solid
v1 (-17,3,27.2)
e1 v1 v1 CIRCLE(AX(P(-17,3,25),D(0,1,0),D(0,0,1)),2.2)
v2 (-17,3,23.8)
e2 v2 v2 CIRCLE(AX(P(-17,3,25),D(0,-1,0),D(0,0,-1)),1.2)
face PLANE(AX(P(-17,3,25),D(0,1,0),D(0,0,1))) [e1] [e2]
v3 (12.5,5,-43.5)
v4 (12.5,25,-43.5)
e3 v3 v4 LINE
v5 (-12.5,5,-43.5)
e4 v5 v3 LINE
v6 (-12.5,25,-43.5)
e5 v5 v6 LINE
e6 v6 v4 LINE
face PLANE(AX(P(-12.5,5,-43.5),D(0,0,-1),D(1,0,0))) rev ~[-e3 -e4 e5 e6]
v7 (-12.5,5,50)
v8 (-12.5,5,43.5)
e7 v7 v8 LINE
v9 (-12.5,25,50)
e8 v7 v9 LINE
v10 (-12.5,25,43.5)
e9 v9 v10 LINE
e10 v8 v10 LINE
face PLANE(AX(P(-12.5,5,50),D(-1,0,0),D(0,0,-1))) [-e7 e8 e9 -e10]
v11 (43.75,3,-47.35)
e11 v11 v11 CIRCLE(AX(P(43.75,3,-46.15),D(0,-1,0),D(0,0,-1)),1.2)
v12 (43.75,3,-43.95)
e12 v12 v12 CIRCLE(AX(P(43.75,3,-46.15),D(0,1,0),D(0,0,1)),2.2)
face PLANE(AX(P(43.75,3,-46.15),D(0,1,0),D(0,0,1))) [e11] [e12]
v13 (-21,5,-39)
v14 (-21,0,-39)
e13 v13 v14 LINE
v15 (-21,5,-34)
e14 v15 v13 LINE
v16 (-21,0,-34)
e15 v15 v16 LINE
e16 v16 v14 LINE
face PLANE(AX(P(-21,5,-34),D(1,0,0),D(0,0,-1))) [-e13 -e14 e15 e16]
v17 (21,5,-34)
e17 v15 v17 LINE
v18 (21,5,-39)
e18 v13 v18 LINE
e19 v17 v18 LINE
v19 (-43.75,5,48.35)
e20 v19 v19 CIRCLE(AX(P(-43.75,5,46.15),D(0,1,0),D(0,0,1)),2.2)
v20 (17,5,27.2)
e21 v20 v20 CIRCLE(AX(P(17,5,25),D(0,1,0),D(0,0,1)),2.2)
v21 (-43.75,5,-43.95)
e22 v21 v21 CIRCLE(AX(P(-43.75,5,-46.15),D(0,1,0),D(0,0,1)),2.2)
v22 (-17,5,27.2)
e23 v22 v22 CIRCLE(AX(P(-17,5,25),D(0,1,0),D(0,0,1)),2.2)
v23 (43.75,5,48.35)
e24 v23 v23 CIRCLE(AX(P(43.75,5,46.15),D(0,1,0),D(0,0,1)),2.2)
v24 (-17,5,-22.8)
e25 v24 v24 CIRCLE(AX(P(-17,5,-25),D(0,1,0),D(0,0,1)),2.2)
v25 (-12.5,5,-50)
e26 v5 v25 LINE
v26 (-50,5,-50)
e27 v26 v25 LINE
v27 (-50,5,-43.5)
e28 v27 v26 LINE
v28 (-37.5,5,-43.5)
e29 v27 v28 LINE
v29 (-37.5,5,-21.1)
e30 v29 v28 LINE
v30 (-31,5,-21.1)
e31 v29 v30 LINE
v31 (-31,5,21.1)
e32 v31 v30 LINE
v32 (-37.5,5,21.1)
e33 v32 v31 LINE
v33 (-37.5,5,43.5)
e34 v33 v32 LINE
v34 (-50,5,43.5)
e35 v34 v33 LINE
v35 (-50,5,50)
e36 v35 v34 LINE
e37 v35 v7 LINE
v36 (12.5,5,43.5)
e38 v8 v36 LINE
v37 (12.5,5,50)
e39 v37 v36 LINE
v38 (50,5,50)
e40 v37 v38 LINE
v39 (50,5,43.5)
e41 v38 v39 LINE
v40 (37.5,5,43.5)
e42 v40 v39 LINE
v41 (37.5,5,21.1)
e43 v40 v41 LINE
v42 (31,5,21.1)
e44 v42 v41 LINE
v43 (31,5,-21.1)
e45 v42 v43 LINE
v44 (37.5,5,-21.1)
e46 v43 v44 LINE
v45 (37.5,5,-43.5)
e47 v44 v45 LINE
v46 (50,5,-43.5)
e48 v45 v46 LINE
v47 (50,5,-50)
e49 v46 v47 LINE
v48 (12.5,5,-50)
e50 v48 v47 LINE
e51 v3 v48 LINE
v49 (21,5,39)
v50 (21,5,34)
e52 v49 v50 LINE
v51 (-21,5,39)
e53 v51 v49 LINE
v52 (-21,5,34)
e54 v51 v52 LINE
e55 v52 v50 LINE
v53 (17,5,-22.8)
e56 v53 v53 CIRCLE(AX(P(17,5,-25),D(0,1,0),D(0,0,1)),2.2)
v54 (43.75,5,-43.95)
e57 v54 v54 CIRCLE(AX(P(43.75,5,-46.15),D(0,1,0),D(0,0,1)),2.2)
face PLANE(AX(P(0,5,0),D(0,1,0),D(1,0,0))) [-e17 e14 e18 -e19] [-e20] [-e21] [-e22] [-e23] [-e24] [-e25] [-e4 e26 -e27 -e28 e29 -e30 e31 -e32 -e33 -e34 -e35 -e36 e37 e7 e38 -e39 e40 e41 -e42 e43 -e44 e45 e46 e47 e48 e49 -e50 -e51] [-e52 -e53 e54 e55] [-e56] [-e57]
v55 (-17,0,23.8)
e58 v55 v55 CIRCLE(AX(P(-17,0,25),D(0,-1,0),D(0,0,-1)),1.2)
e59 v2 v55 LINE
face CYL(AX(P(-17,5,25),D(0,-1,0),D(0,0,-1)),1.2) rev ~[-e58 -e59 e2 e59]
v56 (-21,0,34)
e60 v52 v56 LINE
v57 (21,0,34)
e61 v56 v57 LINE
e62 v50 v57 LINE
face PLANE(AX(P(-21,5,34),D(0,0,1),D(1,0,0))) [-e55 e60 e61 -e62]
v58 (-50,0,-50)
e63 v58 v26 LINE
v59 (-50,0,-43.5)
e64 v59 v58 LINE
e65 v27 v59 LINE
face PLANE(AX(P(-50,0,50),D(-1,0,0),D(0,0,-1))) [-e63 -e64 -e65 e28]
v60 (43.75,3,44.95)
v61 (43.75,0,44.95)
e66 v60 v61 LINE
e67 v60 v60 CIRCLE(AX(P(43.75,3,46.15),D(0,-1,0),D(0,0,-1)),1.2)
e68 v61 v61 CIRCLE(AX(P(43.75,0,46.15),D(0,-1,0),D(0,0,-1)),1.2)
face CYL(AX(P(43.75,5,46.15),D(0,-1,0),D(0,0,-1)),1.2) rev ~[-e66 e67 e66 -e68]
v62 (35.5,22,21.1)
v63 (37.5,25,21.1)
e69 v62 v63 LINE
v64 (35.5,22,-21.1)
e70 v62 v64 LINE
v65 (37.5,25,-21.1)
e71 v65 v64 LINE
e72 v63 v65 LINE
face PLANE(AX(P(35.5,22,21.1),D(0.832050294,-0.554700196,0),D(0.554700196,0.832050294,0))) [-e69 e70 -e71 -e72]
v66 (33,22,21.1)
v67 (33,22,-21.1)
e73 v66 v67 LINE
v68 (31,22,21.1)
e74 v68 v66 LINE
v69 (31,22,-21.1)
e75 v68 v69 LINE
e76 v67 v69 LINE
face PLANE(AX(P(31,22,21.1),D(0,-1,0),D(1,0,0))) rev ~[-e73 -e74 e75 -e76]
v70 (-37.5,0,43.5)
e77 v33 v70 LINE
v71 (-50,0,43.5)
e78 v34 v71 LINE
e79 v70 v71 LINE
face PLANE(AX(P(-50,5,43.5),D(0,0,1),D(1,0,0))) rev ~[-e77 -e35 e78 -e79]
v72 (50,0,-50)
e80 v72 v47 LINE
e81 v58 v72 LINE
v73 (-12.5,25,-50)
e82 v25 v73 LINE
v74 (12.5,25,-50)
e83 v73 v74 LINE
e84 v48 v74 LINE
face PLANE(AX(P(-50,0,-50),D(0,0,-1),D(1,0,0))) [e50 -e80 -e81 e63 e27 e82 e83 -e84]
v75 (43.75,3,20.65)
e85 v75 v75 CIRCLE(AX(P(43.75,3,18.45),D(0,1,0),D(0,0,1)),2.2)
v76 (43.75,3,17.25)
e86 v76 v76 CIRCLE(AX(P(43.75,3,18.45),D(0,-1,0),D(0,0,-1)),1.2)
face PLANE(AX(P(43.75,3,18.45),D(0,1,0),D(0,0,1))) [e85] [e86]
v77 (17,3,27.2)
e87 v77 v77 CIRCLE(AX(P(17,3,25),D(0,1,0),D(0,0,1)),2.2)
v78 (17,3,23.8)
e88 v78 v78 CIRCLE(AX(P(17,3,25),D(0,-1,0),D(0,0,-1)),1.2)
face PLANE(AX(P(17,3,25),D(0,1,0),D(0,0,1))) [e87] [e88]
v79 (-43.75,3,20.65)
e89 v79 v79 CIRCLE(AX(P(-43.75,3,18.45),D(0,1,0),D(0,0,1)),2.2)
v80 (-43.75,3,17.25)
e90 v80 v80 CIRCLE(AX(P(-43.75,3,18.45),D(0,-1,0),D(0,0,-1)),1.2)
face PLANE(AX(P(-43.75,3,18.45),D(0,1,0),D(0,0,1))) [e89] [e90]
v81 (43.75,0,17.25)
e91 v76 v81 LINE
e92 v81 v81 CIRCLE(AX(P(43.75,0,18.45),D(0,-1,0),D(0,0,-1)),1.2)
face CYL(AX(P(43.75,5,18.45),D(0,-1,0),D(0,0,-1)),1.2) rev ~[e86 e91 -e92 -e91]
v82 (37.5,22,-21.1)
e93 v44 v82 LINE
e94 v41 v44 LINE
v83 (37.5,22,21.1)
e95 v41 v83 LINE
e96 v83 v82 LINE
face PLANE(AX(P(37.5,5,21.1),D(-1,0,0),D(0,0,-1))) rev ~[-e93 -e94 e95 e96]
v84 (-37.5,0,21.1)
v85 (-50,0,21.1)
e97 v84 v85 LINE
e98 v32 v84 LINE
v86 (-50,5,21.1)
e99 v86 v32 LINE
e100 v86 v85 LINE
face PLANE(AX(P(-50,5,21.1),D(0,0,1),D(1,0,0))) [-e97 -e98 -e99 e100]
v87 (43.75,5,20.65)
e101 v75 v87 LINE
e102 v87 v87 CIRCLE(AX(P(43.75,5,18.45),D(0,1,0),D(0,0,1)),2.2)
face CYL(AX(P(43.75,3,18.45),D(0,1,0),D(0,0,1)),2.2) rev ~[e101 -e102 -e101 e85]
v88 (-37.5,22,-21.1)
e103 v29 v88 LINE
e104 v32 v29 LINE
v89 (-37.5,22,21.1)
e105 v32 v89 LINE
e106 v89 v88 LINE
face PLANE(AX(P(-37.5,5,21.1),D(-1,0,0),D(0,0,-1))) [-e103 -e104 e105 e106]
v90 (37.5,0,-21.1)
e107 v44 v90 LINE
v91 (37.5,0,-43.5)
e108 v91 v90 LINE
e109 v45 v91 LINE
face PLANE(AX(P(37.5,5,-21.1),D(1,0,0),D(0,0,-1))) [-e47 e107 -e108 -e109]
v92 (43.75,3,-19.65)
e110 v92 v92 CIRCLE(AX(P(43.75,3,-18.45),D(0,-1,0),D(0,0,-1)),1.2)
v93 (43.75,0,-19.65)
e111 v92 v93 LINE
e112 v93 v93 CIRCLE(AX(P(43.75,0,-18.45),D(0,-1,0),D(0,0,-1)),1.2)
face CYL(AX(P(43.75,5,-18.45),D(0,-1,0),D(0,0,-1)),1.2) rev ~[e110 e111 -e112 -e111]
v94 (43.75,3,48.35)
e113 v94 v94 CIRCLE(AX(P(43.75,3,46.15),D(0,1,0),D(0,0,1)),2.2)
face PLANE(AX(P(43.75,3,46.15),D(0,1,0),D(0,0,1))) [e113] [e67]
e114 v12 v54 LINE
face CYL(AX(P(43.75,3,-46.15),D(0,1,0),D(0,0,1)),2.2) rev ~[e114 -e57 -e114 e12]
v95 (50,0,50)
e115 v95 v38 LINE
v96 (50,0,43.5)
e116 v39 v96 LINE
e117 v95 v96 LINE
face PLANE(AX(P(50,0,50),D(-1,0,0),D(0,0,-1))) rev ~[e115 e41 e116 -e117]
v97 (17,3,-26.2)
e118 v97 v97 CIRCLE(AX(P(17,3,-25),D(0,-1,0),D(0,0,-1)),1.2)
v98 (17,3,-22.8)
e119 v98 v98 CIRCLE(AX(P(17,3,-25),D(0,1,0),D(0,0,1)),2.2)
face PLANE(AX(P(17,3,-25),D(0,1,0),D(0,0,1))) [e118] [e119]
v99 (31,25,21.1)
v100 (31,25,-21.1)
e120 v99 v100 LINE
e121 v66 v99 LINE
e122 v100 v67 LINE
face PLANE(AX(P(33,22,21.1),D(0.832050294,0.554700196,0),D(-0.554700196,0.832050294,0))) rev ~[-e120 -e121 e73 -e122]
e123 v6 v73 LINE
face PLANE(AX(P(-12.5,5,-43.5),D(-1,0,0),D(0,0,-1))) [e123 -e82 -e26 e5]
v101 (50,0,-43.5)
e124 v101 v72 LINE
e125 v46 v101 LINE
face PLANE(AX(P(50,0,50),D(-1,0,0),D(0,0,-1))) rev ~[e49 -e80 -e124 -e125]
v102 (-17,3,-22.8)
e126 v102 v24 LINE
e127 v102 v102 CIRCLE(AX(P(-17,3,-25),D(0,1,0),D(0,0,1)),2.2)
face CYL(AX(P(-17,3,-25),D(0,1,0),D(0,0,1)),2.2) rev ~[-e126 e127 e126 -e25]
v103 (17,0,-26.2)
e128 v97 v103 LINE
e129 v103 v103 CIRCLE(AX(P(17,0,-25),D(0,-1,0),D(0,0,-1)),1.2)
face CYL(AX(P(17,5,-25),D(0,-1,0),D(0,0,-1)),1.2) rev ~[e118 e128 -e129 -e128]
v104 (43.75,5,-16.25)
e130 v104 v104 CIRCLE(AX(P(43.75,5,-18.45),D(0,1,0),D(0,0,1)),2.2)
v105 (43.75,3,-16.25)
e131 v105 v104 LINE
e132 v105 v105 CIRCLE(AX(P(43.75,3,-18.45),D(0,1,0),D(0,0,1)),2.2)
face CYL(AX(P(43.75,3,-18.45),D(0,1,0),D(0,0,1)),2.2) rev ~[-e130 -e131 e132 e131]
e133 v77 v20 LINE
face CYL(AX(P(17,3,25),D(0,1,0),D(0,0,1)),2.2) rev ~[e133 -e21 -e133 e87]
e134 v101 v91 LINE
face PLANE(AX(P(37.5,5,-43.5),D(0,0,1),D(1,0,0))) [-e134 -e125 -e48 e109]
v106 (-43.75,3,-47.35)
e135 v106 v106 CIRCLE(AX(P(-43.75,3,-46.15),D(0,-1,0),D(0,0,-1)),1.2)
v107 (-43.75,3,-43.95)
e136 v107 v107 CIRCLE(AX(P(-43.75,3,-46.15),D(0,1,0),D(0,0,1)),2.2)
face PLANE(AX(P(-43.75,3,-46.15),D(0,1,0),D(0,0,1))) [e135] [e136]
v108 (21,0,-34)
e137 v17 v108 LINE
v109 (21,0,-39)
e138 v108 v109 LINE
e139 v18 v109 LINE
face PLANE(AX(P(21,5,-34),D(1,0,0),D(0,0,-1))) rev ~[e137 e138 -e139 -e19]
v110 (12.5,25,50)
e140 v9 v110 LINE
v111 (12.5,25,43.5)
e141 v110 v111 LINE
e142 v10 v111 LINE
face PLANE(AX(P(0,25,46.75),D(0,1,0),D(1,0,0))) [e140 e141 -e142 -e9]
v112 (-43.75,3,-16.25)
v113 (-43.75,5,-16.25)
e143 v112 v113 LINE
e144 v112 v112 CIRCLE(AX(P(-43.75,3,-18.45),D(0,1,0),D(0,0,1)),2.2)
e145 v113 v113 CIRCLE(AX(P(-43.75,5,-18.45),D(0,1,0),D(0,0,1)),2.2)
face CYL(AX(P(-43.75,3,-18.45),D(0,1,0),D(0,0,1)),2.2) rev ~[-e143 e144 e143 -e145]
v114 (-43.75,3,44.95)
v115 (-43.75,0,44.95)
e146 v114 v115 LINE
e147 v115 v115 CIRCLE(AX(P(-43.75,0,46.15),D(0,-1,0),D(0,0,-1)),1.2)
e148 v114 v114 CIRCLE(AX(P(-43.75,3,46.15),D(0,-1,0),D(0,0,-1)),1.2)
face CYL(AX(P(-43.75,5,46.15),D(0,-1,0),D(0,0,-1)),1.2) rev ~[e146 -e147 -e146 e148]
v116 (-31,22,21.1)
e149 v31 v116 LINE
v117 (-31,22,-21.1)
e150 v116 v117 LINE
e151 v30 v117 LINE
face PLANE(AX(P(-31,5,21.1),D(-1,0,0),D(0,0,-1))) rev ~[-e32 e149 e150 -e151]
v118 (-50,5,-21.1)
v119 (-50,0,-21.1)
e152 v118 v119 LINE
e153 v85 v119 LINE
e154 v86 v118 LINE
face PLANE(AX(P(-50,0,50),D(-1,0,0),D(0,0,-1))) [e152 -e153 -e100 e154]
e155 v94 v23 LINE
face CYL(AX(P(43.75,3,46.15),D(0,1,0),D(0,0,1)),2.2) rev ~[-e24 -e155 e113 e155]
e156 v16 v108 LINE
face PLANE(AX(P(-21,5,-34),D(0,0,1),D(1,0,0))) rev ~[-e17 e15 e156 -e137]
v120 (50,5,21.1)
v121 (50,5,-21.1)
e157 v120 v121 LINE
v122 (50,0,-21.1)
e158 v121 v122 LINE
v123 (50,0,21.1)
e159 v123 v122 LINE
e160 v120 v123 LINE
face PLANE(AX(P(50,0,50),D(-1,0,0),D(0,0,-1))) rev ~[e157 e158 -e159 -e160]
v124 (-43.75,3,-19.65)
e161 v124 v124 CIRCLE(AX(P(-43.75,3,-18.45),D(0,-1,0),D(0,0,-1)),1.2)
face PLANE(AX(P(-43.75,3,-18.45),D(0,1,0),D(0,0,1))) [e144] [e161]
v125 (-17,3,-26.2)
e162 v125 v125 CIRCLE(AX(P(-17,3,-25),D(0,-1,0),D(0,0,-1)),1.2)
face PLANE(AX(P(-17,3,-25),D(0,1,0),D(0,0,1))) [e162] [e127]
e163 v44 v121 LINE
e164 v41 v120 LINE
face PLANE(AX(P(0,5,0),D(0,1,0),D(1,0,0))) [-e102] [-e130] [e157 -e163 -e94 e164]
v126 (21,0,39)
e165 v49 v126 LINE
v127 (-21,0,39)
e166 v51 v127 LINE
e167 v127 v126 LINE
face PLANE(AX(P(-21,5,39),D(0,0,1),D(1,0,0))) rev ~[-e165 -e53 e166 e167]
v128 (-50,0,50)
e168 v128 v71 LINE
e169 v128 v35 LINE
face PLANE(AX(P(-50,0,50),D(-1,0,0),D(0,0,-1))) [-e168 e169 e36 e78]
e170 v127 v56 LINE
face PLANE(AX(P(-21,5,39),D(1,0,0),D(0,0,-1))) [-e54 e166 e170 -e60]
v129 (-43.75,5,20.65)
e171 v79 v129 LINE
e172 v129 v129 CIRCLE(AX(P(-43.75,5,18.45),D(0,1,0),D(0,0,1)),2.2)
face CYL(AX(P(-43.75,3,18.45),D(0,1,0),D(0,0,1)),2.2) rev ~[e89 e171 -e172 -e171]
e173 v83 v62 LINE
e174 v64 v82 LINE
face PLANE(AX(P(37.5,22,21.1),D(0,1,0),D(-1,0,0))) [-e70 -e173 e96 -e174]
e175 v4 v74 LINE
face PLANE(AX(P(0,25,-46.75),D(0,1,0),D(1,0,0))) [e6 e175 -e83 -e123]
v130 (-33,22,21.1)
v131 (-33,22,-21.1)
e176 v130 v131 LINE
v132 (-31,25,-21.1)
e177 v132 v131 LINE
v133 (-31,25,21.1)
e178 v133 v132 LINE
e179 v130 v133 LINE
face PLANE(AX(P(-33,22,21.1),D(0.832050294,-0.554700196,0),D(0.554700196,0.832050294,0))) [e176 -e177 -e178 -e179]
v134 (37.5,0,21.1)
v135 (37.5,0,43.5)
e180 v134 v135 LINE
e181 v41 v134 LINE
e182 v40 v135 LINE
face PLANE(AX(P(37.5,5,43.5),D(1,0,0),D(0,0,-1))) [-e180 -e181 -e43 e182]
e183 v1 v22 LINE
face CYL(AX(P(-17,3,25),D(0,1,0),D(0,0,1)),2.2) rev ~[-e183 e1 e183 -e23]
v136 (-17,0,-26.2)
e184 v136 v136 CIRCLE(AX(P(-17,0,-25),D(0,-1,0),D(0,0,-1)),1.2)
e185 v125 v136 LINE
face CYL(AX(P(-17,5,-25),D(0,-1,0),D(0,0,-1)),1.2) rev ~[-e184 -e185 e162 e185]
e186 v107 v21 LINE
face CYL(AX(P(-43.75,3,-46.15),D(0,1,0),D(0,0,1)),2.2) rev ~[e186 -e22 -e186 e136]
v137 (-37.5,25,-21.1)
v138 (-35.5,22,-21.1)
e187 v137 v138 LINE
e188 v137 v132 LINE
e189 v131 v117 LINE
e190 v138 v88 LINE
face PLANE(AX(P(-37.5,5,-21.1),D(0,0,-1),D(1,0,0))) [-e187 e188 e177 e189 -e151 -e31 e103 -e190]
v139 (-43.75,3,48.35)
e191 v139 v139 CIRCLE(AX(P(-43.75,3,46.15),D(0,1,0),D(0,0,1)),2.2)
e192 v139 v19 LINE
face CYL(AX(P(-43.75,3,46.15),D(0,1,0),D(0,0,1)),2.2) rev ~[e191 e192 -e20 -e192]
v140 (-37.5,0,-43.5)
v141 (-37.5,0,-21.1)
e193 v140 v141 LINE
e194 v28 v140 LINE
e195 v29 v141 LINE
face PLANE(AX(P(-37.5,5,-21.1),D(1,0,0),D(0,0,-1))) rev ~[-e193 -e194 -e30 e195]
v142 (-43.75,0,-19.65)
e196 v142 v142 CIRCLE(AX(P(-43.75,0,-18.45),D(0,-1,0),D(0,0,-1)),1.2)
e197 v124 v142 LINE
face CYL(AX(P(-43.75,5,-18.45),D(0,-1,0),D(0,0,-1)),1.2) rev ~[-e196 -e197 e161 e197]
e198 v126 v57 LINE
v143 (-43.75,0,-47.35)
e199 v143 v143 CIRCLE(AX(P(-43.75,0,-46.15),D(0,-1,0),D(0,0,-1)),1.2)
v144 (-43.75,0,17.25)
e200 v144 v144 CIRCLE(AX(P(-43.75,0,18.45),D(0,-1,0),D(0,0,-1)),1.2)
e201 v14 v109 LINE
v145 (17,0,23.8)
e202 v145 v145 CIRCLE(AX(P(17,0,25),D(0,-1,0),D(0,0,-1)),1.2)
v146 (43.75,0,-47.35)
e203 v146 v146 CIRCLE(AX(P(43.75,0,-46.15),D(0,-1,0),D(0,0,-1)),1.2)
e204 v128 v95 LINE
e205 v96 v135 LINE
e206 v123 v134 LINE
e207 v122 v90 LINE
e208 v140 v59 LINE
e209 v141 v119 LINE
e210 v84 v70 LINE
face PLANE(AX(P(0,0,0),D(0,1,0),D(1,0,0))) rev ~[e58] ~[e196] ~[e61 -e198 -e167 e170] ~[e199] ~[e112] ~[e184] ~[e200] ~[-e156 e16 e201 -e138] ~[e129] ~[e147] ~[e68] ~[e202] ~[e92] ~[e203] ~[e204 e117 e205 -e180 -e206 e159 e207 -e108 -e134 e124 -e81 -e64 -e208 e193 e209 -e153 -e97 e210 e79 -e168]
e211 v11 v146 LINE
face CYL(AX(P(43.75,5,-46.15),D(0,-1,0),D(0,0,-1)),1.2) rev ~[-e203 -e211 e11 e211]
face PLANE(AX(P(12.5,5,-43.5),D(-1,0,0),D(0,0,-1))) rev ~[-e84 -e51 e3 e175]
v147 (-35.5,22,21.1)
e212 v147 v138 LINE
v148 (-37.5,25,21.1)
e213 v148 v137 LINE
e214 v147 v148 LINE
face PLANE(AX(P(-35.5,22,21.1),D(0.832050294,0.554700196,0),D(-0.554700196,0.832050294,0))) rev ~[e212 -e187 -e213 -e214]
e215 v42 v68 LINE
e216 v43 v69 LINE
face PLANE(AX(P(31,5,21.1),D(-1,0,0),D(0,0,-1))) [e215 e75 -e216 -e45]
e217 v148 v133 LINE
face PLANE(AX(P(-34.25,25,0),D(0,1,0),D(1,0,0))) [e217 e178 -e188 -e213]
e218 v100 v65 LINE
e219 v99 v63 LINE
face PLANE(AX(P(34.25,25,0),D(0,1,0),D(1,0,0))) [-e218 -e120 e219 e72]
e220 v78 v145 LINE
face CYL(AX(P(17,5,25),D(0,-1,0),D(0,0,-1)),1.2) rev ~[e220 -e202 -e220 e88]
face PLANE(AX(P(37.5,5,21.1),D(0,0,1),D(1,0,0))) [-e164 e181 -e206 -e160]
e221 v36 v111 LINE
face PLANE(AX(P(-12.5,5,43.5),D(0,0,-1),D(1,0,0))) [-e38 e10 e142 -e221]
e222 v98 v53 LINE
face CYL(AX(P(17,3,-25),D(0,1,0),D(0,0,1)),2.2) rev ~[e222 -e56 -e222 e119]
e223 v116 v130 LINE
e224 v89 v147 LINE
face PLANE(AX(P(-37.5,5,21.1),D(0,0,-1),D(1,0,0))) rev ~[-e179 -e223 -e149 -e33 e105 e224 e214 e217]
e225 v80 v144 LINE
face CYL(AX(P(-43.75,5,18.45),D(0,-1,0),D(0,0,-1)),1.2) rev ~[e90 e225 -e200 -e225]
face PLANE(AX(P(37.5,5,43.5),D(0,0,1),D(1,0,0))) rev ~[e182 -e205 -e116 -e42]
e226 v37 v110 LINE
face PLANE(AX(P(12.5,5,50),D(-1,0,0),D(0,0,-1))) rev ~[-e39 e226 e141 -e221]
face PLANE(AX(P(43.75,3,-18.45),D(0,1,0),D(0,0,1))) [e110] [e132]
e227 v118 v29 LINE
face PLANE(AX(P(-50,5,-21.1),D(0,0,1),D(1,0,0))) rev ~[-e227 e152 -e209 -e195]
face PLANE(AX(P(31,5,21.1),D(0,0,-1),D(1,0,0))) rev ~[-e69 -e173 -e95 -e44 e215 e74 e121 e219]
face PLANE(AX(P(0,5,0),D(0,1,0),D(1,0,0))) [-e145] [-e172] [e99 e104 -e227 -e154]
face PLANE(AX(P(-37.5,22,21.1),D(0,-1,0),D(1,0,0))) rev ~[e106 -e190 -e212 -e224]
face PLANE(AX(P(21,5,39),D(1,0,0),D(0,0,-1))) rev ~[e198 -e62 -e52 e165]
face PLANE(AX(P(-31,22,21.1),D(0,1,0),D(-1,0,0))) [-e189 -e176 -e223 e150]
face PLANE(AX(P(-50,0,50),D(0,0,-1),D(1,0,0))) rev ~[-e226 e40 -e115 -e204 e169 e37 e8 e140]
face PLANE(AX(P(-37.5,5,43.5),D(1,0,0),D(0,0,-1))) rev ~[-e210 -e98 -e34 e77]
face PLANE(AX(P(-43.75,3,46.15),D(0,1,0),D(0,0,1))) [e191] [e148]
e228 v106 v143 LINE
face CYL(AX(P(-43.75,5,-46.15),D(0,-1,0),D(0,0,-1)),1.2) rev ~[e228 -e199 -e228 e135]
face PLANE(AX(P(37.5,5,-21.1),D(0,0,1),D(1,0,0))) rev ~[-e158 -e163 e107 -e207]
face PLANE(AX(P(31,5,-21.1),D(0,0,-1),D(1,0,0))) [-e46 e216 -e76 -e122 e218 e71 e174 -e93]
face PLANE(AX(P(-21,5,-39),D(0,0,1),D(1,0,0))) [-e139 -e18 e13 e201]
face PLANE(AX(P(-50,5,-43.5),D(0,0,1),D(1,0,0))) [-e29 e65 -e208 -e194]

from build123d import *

# Parameters (mm, degrees)
SKETCH_1_W                   = 100
SKETCH_1_H                   = 100
EXTRUDE_1_DEPTH              = 5
CUT_EXTRUDE_1_REACH          = 72.887
SKETCH_2_W                   = 12.5
SKETCH_2_H                   = 22.4
HOLE_WIZARD_M2_3_D           = 2.4
HOLE_WIZARD_M2_3_CBORE_D     = 4.4
HOLE_WIZARD_M2_3_CBORE_DEPTH = 2
SKETCH_9_W                   = 25
SKETCH_9_H                   = 6.5
SKETCH_9_W_2                 = 6.5
SKETCH_9_H_2                 = 42.2
EXTRUDE_4_DEPTH              = 20
HOLE_WIZARD_M2_4_D           = 2.4
HOLE_WIZARD_M2_4_CBORE_D     = 4.4
HOLE_WIZARD_M2_4_CBORE_DEPTH = 2
SKETCH_12_W                  = 42
SKETCH_12_H                  = 5
CUT_EXTRUDE_2_DEPTH          = 10
CUT_EXTRUDE_3_DEPTH          = 91.444513377


with BuildPart() as part:
    # 草图1 → 凸台-拉伸1 (new body)
    with BuildSketch(Plane(origin=(0, 0, 0), x_dir=(1, 0, 0), z_dir=(0, 1, 0))):
        Rectangle(SKETCH_1_W, SKETCH_1_H)
    extrude(amount=EXTRUDE_1_DEPTH)

    # 草图2 → 切除-拉伸1 (cut, up to next)
    with BuildSketch(Plane(origin=(0, 5, 0), x_dir=(1, 0, 0), z_dir=(0, 1, 0)), mode=Mode.PRIVATE) as cut_extrude_1_sk1:
        with Locations((-43.75, 32.3)):
            Rectangle(SKETCH_2_W, SKETCH_2_H)
    cut_extrude_1_tool1 = extrude(cut_extrude_1_sk1.sketch, amount=-CUT_EXTRUDE_1_REACH, mode=Mode.PRIVATE) & part.part
    # 草图2 → 切除-拉伸1 (cut, up to next)
    with BuildSketch(Plane(origin=(0, 5, 0), x_dir=(1, 0, 0), z_dir=(0, 1, 0)), mode=Mode.PRIVATE) as cut_extrude_1_sk2:
        with Locations((43.75, 32.3)):
            Rectangle(SKETCH_2_W, SKETCH_2_H)
    cut_extrude_1_tool2 = extrude(cut_extrude_1_sk2.sketch, amount=-CUT_EXTRUDE_1_REACH, mode=Mode.PRIVATE) & part.part
    # 草图2 → 切除-拉伸1 (cut, up to next)
    with BuildSketch(Plane(origin=(0, 5, 0), x_dir=(1, 0, 0), z_dir=(0, 1, 0)), mode=Mode.PRIVATE) as cut_extrude_1_sk3:
        with Locations((43.75, -32.3)):
            Rectangle(SKETCH_2_W, SKETCH_2_H)
    cut_extrude_1_tool3 = extrude(cut_extrude_1_sk3.sketch, amount=-CUT_EXTRUDE_1_REACH, mode=Mode.PRIVATE) & part.part
    # 草图2 → 切除-拉伸1 (cut, up to next)
    with BuildSketch(Plane(origin=(0, 5, 0), x_dir=(1, 0, 0), z_dir=(0, 1, 0)), mode=Mode.PRIVATE) as cut_extrude_1_sk4:
        with Locations((-43.75, -32.3)):
            Rectangle(SKETCH_2_W, SKETCH_2_H)
    cut_extrude_1_tool4 = extrude(cut_extrude_1_sk4.sketch, amount=-CUT_EXTRUDE_1_REACH, mode=Mode.PRIVATE) & part.part
    add(cut_extrude_1_tool1.solids().sort_by_distance((-43.75, 5, -32.3))[0], mode=Mode.SUBTRACT)
    add(cut_extrude_1_tool2.solids().sort_by_distance((43.75, 5, -32.3))[0], mode=Mode.SUBTRACT)
    add(cut_extrude_1_tool3.solids().sort_by_distance((43.75, 5, 32.3))[0], mode=Mode.SUBTRACT)
    add(cut_extrude_1_tool4.solids().sort_by_distance((-43.75, 5, 32.3))[0], mode=Mode.SUBTRACT)

    # M2 凹头盖螺钉的柱形沉头孔3 (through all)
    with Locations(Plane(origin=(-43.75, 5, -46.15), x_dir=(0, 0, 1), z_dir=(0, 1, 0))):
        with Locations((0, 0), (0, 87.5), (27.7, 87.5), (27.7, 0), (64.6, 0), (92.3, 0), (64.6, 87.5), (92.3, 87.5)):
            CounterBoreHole(HOLE_WIZARD_M2_3_D / 2, HOLE_WIZARD_M2_3_CBORE_D / 2, HOLE_WIZARD_M2_3_CBORE_DEPTH)

    # 草图9 → 凸台-拉伸4 (add)
    with BuildSketch(Plane(origin=(0, 5, 0), x_dir=(1, 0, 0), z_dir=(0, 1, 0))):
        with Locations((0, 46.75)):
            Rectangle(SKETCH_9_W, SKETCH_9_H)
        with Locations((0, -46.75)):
            Rectangle(SKETCH_9_W, SKETCH_9_H)
        with Locations((-34.25, 0)):
            Rectangle(SKETCH_9_W_2, SKETCH_9_H_2)
        with Locations((34.25, 0)):
            Rectangle(SKETCH_9_W_2, SKETCH_9_H_2)
    extrude(amount=EXTRUDE_4_DEPTH)

    # M2 凹头盖螺钉的柱形沉头孔4 (through all)
    with Locations(Plane(origin=(-17, 5, -25), x_dir=(0, 0, 1), z_dir=(0, 1, 0))):
        with Locations((0, 0), (0, 34), (50, 0), (50, 34)):
            CounterBoreHole(HOLE_WIZARD_M2_4_D / 2, HOLE_WIZARD_M2_4_CBORE_D / 2, HOLE_WIZARD_M2_4_CBORE_DEPTH)

    # 草图12 → 切除-拉伸2 (cut)
    with BuildSketch(Plane(origin=(0, 5, 0), x_dir=(1, 0, 0), z_dir=(0, 1, 0))):
        with Locations((0, 36.5)):
            Rectangle(SKETCH_12_W, SKETCH_12_H)
        with Locations((0, -36.5)):
            Rectangle(SKETCH_12_W, SKETCH_12_H)
    extrude(amount=-CUT_EXTRUDE_2_DEPTH, mode=Mode.SUBTRACT)

    # 草图15 → 切除-拉伸3 (cut, through all)
    with BuildSketch(Plane.XY.offset(21.1)):
        Polygon((-37.5, 25), (-37.5, 22), (-35.5, 22), align=None)
        Polygon((-31, 25), (-31, 22), (-33, 22), align=None)
        Polygon((37.5, 25), (37.5, 22), (35.5, 22), align=None)
        Polygon((31, 22), (33, 22), (31, 25), align=None)
    extrude(amount=-CUT_EXTRUDE_3_DEPTH, mode=Mode.SUBTRACT)


solid = part.part
